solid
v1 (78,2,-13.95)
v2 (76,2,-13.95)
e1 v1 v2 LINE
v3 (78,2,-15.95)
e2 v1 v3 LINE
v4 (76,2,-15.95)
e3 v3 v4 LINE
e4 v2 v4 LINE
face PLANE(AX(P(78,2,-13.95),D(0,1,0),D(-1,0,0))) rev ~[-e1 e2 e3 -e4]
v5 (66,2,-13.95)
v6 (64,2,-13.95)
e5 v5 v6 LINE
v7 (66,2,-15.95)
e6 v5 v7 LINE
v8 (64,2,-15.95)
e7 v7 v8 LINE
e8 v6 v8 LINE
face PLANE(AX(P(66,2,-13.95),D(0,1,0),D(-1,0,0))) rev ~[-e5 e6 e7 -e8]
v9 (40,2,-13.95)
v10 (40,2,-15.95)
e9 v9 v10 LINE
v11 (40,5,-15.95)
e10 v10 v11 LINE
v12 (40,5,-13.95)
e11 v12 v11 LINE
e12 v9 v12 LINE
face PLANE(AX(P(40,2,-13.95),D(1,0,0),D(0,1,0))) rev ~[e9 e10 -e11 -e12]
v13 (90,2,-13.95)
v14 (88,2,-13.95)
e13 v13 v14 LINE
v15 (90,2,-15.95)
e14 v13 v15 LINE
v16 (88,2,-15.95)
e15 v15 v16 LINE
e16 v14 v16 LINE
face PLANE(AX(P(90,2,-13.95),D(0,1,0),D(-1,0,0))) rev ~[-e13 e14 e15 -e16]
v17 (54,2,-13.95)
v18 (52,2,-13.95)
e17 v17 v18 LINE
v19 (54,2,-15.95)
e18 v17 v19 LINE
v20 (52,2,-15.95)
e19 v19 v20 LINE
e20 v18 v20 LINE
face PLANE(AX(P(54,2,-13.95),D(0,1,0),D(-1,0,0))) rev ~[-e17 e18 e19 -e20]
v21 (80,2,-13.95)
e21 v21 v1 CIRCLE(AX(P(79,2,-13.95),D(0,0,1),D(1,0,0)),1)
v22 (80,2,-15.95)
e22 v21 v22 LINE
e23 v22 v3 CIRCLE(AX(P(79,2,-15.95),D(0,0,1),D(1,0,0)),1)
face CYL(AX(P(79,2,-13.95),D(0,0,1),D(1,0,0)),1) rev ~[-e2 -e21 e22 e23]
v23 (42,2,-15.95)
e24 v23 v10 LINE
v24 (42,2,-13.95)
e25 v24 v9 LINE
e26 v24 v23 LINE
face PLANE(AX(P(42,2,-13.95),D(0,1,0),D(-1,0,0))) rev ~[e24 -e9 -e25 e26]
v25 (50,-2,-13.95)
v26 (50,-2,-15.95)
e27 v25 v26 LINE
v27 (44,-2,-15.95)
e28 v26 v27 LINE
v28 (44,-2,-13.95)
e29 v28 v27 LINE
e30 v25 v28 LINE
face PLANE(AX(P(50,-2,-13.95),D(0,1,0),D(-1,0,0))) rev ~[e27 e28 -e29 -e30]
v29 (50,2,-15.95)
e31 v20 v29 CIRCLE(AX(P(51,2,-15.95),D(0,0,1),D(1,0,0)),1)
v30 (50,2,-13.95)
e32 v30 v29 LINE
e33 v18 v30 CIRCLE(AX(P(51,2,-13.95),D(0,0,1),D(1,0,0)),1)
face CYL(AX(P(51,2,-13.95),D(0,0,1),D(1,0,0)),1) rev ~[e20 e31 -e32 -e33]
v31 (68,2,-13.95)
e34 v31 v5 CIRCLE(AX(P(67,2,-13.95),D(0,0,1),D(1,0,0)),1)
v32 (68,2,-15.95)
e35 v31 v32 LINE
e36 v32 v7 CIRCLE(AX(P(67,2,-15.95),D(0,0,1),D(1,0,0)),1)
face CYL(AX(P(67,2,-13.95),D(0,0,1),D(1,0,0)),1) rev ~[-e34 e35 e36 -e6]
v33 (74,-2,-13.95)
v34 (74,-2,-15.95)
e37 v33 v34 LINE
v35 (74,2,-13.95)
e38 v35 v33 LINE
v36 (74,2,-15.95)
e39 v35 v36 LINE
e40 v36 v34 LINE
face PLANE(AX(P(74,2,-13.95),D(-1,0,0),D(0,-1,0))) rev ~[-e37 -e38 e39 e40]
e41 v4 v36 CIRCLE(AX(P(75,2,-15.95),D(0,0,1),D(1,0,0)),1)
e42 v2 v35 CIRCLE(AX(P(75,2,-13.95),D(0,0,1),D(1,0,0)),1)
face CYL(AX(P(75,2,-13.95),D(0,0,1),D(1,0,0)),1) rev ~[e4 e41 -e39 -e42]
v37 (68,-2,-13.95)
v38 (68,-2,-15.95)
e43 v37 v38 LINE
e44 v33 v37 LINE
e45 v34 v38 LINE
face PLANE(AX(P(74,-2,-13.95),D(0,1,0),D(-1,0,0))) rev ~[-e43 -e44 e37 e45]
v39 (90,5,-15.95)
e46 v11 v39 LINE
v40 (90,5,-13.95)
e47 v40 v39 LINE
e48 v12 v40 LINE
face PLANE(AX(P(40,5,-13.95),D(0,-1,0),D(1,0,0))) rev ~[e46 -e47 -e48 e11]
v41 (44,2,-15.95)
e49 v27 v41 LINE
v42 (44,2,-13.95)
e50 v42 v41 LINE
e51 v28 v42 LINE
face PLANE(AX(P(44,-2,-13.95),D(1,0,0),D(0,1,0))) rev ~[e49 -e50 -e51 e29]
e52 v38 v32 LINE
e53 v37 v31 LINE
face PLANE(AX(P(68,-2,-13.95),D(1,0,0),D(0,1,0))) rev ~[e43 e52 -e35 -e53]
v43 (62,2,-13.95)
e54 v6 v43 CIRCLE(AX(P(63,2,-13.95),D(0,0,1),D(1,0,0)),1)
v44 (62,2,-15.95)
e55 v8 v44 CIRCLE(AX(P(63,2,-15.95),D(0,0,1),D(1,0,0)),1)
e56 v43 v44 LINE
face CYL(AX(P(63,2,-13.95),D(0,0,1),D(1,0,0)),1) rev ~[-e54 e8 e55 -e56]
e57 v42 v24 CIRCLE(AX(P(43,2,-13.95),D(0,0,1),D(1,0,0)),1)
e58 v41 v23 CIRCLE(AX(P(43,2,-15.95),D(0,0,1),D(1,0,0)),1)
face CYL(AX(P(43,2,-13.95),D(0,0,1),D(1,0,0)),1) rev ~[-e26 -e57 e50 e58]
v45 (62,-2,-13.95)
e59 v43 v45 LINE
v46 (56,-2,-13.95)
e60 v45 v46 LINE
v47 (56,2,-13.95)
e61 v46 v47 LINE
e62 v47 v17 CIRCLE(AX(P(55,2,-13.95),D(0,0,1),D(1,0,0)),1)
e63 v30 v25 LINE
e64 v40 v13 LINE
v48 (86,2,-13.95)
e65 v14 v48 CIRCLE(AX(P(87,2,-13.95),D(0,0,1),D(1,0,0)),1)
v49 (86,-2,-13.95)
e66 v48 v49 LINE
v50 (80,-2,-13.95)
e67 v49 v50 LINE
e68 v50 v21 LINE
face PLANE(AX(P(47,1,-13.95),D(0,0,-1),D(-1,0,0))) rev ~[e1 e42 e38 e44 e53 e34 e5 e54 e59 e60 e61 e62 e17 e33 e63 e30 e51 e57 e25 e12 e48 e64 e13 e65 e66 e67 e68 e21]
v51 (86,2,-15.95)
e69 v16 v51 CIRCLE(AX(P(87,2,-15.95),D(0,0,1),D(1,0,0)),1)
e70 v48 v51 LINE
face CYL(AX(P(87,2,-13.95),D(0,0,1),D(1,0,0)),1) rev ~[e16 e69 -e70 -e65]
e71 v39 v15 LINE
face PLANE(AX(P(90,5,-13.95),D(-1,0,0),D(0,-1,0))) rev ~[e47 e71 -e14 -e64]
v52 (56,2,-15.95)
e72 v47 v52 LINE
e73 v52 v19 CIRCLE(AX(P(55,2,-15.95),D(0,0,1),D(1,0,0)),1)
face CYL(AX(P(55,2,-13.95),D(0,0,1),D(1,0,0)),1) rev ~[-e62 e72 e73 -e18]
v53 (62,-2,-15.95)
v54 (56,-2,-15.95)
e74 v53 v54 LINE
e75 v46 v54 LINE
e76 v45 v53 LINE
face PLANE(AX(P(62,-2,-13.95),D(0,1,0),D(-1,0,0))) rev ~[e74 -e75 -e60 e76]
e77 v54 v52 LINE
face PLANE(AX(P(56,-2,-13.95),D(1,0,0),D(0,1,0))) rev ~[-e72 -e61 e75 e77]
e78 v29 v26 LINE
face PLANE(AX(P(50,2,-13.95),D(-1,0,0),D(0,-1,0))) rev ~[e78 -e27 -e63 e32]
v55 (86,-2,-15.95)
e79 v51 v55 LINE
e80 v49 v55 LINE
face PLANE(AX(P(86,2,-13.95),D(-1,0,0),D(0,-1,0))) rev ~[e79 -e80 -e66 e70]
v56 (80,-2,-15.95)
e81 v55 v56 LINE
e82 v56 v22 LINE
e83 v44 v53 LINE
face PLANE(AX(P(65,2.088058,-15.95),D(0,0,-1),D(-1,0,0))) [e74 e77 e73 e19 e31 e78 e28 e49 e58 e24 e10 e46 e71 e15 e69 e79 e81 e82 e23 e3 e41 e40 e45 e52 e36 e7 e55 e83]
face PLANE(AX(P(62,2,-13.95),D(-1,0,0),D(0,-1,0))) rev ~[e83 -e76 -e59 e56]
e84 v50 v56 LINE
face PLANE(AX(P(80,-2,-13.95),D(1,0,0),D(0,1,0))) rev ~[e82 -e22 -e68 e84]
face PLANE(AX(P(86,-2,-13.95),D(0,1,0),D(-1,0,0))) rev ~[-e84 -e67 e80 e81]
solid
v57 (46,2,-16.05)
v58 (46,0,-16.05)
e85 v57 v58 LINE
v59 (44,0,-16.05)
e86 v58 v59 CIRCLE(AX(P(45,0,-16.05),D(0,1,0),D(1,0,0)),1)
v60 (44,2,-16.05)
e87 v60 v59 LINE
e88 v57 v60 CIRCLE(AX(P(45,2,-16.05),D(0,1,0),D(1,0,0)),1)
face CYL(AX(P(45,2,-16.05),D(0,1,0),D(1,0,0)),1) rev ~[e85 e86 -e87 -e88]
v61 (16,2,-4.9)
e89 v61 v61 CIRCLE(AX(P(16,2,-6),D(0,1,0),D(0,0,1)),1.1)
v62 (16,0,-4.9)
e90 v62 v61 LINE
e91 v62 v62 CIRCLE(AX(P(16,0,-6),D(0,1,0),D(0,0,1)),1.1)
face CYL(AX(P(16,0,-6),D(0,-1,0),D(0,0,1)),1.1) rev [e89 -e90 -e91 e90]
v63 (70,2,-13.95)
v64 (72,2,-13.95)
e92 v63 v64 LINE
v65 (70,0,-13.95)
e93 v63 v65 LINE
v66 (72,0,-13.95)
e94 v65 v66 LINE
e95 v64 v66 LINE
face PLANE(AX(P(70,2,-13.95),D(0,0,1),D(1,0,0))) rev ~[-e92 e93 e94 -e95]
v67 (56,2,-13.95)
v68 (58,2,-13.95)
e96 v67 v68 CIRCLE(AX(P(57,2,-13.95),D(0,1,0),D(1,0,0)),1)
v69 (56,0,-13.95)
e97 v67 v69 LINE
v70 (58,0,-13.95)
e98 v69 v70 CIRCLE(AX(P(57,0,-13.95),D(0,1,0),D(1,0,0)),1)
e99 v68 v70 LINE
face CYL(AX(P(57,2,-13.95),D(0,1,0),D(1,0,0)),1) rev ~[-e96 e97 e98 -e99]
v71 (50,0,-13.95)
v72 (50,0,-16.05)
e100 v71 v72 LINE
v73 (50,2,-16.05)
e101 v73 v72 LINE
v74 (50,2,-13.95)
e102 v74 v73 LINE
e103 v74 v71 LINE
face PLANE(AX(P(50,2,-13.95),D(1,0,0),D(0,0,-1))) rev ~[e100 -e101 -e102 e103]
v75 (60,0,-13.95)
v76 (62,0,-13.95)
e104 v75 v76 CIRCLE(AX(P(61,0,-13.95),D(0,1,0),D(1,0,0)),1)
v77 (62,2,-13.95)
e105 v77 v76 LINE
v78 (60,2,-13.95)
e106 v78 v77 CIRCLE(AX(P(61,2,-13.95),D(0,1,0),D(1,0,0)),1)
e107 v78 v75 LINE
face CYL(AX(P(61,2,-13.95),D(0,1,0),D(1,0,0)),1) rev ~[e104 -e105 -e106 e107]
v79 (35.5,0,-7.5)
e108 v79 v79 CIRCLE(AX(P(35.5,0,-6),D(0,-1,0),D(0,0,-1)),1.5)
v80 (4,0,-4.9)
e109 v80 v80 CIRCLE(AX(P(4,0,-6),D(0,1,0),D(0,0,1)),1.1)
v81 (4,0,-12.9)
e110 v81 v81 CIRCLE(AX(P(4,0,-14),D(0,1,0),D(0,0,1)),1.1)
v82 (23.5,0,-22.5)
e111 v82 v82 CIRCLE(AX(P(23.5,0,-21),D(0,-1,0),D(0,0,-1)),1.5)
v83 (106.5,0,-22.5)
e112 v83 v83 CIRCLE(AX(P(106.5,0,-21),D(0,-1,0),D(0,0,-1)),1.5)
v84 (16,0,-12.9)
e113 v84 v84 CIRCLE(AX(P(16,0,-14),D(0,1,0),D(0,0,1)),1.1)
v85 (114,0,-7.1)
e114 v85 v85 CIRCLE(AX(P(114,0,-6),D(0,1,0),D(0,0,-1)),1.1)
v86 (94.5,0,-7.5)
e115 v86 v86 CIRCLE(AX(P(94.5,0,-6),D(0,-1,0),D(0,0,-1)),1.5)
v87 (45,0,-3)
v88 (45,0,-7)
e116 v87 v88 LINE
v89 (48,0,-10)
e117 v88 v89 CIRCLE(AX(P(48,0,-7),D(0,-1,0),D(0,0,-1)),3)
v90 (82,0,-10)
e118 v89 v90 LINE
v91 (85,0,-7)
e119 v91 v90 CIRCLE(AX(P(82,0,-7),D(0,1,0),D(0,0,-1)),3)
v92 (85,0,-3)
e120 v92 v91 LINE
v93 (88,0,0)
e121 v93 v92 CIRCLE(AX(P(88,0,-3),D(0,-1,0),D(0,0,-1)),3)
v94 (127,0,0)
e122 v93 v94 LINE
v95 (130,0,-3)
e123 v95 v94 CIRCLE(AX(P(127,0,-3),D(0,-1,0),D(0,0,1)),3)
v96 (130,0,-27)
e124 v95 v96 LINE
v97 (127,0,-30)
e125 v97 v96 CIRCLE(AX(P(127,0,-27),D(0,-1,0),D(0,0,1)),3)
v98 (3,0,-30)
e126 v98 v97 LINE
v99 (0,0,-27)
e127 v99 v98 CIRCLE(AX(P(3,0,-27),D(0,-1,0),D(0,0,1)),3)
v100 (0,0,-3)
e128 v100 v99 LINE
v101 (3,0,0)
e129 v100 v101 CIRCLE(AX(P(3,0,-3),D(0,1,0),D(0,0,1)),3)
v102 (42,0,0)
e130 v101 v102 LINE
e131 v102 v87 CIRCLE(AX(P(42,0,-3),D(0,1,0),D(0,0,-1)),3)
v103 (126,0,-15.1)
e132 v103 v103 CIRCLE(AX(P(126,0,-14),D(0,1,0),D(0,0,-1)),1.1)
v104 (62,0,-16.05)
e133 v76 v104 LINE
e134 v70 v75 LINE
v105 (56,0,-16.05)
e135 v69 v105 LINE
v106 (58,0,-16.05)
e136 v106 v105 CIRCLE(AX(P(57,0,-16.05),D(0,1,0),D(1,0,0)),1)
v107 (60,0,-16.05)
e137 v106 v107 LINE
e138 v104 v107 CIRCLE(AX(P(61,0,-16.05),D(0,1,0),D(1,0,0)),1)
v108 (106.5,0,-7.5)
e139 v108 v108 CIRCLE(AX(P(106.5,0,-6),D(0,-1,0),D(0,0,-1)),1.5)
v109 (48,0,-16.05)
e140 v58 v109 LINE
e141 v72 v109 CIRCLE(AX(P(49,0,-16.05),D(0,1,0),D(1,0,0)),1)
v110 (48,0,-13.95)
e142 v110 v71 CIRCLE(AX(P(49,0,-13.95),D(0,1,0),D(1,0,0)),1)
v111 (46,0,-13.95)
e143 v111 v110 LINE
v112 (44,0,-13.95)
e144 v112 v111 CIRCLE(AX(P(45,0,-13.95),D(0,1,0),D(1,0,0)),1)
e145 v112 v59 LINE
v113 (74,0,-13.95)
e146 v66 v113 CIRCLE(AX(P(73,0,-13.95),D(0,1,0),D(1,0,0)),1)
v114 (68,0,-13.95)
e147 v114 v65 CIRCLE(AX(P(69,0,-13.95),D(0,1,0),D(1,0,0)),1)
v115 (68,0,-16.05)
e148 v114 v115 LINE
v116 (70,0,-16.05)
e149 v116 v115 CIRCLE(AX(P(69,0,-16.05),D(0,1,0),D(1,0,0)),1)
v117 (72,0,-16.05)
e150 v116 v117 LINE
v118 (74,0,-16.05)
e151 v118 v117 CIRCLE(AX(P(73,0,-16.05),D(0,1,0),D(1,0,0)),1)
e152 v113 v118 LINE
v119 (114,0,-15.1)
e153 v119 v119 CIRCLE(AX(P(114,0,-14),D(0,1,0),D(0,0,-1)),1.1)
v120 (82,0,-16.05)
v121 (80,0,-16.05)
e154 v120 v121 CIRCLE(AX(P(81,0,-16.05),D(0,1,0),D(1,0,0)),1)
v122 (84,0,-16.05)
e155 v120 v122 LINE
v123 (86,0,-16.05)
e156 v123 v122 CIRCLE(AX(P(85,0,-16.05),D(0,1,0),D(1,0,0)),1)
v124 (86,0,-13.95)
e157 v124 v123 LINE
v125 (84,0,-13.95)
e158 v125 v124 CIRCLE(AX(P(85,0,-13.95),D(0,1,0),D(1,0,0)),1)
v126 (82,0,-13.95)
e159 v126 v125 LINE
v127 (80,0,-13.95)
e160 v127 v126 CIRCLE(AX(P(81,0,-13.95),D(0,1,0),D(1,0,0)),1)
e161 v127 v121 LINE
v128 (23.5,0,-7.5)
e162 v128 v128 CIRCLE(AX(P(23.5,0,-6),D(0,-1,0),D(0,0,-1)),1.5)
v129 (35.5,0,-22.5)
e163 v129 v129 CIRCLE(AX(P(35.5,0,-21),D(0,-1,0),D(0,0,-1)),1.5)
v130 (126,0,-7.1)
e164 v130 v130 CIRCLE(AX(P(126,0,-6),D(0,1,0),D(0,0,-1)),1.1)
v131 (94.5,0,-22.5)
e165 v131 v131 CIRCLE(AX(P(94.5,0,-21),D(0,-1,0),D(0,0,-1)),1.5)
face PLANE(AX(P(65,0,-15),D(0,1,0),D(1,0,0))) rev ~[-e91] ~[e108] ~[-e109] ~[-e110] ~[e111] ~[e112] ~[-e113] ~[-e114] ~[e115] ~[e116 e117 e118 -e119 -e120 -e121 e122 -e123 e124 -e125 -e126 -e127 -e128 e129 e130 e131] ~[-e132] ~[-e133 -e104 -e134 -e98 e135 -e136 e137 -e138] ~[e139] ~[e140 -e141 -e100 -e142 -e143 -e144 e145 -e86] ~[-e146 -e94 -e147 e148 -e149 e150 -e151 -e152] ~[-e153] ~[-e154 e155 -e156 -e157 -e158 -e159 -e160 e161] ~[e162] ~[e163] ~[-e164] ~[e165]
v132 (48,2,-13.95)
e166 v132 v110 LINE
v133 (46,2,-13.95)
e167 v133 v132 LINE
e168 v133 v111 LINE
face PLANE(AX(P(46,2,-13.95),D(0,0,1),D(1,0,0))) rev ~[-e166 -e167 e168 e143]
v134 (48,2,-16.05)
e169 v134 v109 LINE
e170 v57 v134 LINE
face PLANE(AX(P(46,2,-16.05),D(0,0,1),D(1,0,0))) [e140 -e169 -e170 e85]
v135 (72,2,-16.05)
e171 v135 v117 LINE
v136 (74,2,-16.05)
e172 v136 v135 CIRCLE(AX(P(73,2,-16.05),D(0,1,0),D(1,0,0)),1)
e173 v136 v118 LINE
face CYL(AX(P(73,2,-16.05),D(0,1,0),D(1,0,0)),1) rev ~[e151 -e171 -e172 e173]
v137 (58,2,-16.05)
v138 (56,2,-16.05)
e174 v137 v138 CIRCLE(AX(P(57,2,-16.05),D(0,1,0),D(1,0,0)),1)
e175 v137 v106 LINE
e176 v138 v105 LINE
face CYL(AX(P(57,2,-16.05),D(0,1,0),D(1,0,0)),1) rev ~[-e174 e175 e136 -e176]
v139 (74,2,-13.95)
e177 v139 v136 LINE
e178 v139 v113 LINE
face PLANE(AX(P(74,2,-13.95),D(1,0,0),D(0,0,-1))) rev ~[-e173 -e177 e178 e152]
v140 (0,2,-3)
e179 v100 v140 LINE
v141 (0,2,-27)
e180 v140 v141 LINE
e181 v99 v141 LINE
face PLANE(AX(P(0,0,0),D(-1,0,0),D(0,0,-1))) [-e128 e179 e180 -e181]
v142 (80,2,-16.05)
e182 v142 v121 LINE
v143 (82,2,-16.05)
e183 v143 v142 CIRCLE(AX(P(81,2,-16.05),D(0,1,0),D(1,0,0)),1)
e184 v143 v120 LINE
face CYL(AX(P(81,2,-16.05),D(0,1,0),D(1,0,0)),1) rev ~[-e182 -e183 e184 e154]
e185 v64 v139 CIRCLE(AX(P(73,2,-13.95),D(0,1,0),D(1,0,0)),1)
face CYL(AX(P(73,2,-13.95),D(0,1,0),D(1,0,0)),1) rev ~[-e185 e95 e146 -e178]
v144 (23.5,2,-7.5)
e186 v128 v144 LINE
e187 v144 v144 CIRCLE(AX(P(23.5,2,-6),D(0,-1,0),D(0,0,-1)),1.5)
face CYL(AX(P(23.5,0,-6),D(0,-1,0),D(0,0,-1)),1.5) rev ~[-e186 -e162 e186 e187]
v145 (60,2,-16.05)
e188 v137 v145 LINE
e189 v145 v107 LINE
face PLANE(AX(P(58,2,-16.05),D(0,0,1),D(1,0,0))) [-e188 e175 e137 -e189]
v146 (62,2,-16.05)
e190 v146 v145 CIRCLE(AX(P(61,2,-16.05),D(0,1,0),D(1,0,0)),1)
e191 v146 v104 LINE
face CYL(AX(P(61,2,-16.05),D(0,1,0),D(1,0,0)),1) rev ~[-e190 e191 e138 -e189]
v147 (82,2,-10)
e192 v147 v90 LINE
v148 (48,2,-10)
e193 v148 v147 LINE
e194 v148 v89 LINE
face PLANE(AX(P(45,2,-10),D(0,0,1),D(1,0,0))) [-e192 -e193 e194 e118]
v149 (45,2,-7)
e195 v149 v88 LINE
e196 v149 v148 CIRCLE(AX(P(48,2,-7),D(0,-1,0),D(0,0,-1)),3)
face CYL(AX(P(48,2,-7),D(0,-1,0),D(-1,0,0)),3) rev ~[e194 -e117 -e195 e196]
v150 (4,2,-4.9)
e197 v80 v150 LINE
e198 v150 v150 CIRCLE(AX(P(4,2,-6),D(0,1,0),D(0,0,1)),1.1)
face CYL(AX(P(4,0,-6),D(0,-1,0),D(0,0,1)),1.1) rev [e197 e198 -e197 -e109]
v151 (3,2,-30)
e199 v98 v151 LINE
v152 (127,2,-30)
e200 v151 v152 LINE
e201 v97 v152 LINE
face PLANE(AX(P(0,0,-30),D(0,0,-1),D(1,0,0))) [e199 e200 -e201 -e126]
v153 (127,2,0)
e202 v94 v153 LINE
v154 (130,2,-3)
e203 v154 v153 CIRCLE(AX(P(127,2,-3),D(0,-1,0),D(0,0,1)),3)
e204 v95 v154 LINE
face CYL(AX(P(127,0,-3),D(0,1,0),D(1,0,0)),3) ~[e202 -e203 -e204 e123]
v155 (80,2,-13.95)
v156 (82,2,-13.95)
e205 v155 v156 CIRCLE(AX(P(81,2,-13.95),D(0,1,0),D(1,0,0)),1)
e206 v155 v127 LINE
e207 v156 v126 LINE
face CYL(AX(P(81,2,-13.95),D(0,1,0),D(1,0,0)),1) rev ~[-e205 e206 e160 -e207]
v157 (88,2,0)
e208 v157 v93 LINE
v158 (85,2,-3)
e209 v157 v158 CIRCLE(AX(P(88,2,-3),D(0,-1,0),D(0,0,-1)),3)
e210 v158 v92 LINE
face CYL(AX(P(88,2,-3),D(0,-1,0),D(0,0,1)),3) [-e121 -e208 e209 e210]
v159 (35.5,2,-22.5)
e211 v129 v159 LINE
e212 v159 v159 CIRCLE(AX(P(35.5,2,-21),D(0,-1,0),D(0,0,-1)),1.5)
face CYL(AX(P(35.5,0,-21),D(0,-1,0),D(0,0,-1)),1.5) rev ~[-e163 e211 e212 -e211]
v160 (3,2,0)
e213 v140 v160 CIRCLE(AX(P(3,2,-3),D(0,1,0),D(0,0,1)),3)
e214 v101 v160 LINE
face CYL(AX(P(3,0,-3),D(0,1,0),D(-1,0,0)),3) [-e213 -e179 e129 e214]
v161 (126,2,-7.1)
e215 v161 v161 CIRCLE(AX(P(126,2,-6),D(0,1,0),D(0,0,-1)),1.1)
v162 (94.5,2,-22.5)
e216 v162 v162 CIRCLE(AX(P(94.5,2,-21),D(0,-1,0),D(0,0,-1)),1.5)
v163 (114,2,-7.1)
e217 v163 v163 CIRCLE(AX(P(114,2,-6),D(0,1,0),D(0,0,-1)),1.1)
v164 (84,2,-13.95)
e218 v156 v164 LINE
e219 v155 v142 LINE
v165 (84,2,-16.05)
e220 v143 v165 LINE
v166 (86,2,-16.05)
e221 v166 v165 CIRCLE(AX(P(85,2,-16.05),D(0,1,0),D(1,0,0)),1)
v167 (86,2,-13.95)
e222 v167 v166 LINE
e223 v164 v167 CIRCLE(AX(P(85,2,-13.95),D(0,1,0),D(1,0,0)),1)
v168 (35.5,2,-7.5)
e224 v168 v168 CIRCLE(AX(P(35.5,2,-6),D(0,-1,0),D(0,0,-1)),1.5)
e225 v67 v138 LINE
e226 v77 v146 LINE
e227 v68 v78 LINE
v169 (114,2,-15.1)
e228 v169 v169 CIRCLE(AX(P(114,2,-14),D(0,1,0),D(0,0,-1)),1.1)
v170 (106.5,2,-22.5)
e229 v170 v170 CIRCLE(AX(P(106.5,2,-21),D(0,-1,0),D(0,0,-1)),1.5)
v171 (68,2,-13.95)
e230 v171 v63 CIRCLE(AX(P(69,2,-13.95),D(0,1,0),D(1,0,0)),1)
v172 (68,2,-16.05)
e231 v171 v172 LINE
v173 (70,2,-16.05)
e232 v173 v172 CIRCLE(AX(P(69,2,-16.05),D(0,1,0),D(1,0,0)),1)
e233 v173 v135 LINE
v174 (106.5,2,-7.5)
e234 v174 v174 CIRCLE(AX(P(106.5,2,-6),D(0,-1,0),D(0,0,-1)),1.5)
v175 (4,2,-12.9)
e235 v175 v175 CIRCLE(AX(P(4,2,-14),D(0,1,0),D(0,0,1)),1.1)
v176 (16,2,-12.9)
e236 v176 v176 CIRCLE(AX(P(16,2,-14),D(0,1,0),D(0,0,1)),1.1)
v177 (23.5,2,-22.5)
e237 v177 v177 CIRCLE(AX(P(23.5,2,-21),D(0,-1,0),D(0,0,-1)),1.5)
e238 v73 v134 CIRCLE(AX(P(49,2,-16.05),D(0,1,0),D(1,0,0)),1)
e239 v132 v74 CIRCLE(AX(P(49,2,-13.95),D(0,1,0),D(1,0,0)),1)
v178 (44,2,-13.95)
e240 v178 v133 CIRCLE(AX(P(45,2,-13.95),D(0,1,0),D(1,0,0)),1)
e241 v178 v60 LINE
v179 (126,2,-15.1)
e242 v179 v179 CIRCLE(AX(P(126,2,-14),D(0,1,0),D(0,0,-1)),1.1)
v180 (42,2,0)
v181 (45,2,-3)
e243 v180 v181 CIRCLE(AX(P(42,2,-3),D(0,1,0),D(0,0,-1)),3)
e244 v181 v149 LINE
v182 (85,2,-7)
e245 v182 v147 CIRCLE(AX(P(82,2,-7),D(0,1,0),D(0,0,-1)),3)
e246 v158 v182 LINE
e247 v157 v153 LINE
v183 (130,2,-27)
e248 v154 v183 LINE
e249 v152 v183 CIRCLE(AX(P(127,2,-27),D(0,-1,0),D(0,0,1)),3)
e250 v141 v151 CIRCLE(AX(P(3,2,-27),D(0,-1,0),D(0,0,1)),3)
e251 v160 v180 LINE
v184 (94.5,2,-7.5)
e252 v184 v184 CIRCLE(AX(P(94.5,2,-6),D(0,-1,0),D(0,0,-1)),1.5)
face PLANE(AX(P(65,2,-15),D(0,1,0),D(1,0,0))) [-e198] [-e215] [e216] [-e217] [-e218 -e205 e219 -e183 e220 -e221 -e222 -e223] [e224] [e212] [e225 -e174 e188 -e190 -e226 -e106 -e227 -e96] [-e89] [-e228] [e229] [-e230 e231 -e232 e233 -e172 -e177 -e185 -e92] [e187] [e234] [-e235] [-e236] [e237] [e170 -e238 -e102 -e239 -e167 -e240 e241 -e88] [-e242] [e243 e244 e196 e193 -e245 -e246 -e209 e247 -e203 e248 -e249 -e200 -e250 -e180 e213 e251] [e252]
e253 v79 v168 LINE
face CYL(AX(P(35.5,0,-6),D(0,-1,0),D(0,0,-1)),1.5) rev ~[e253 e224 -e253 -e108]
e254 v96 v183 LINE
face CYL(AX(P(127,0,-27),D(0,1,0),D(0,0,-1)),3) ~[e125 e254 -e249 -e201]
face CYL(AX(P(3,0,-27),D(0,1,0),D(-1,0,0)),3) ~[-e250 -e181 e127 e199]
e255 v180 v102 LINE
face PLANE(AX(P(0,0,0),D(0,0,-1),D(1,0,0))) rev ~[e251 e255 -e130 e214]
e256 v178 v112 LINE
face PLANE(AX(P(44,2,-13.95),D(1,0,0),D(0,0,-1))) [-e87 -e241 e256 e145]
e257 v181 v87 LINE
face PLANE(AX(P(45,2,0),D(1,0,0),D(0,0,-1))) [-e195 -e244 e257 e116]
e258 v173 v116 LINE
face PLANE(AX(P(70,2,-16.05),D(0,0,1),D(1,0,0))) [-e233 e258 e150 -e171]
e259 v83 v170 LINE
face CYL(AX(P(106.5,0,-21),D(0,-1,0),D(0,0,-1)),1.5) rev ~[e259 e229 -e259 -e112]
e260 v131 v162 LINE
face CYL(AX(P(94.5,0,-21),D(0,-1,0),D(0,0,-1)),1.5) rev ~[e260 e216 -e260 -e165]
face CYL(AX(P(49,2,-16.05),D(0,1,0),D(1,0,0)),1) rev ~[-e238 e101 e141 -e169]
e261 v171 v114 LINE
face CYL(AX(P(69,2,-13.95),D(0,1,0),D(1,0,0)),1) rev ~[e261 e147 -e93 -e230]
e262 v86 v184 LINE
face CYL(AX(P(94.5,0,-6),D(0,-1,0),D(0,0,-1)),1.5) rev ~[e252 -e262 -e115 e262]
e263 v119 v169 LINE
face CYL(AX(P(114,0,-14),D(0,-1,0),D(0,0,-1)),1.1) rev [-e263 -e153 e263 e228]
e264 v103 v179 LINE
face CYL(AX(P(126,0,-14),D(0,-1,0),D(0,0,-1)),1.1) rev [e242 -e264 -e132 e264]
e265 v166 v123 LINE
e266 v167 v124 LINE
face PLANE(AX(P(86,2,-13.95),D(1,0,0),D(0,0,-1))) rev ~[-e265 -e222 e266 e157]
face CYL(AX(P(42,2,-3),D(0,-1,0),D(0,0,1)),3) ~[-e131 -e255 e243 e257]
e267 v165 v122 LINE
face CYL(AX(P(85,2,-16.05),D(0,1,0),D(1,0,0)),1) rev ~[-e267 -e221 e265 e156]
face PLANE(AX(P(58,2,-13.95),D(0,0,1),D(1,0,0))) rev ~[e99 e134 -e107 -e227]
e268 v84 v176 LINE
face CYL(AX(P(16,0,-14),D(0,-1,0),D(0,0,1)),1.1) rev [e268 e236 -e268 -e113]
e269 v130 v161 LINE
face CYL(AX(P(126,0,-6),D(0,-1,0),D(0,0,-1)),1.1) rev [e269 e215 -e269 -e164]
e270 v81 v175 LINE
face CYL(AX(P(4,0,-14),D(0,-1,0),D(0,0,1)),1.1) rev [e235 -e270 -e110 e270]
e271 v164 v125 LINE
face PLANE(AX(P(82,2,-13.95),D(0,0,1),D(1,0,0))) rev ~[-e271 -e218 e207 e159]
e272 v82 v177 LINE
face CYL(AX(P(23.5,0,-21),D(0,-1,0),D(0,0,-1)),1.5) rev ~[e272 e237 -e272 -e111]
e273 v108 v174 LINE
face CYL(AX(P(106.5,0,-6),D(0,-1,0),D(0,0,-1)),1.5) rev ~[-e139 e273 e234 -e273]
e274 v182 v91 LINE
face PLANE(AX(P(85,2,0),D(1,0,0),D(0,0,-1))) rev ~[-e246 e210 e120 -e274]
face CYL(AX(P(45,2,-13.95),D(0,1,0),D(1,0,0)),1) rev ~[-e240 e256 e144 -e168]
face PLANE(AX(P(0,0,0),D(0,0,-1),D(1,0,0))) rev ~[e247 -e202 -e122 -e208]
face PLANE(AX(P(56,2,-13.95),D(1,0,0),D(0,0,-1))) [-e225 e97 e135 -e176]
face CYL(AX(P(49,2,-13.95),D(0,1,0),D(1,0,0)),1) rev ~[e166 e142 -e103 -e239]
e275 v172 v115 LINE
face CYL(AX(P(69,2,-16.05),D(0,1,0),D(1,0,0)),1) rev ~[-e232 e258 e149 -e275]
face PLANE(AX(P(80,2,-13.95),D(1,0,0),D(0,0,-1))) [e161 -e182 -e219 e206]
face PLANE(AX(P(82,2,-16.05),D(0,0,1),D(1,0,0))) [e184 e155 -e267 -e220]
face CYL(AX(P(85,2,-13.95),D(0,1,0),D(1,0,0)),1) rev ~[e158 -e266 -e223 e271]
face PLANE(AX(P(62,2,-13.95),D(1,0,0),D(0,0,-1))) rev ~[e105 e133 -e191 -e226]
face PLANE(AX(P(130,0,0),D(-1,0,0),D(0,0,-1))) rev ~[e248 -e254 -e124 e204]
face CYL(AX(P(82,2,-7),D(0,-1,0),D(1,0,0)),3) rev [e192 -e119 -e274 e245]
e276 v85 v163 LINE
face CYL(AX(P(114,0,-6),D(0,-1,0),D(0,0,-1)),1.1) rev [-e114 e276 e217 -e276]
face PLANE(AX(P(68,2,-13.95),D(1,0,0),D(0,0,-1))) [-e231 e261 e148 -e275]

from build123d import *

# Parameters (mm, degrees)
SKETCH_1_W          = 130
SKETCH_1_H          = 30
SKETCH_1_R          = 1.1
EXTRUDE_1_DEPTH     = 2
SKETCH_2_W          = 40
SKETCH_2_H          = 10
CUT_EXTRUDE_1_DEPTH = 134.431630433
FILLET_1_R          = 3
CUT_EXTRUDE_2_DEPTH = 134.431630433
EXTRUDE_4_DEPTH     = 2
SKETCH_8_R          = 1.5
CUT_EXTRUDE_3_DEPTH = 134.510299228


with BuildPart() as part:
    # 草图1 → 凸台-拉伸1 (new body)
    with BuildSketch(Plane(origin=(0, 0, 0), x_dir=(1, 0, 0), z_dir=(0, 1, 0))):
        with Locations((65, 15)):
            Rectangle(SKETCH_1_W, SKETCH_1_H)
        with Locations((4, 14)):
            Circle(SKETCH_1_R, mode=Mode.SUBTRACT)
        with Locations((4, 6)):
            Circle(SKETCH_1_R, mode=Mode.SUBTRACT)
        with Locations((16, 14)):
            Circle(SKETCH_1_R, mode=Mode.SUBTRACT)
        with Locations((16, 6)):
            Circle(SKETCH_1_R, mode=Mode.SUBTRACT)
        with Locations((114, 6)):
            Circle(SKETCH_1_R, mode=Mode.SUBTRACT)
        with Locations((114, 14)):
            Circle(SKETCH_1_R, mode=Mode.SUBTRACT)
        with Locations((126, 14)):
            Circle(SKETCH_1_R, mode=Mode.SUBTRACT)
        with Locations((126, 6)):
            Circle(SKETCH_1_R, mode=Mode.SUBTRACT)
    extrude(amount=EXTRUDE_1_DEPTH)

    # 草图2 → 切除-拉伸1 (cut, through all)
    with BuildSketch(Plane(origin=(0, 2, 0), x_dir=(1, 0, 0), z_dir=(0, 1, 0))):
        with Locations((65, 5)):
            Rectangle(SKETCH_2_W, SKETCH_2_H)
    extrude(amount=-CUT_EXTRUDE_1_DEPTH, mode=Mode.SUBTRACT)

    # 圆角1
    fillet_1_edges = [part.edges().sort_by_distance(p)[0] for p in [
        (85, 1, 0),
        (130, 1, 0),
        (130, 1, -30),
        (85, 1, -10),
        (45, 1, -10),
        (45, 1, 0),
        (0, 1, 0),
        (0, 1, -30),
    ]]
    fillet(fillet_1_edges, radius=FILLET_1_R)

    # 草图6 → 切除-拉伸2 (cut, through all)
    with BuildSketch(Plane(origin=(0, 2, 0), x_dir=(1, 0, 0), z_dir=(0, 1, 0))):
        with BuildLine():
            Line((60, 16.05), (58, 16.05))
            ThreePointArc((58, 16.05), (57, 17.05), (56, 16.05))
            Line((56, 16.05), (56, 13.95))
            ThreePointArc((56, 13.95), (57, 12.95), (58, 13.95))
            Line((58, 13.95), (60, 13.95))
            ThreePointArc((60, 13.95), (61, 12.95), (62, 13.95))
            Line((62, 13.95), (62, 16.05))
            ThreePointArc((62, 16.05), (61, 17.05), (60, 16.05))
        make_face()
        with BuildLine():
            ThreePointArc((46, 16.05), (45, 17.05), (44, 16.05))
            Line((44, 16.05), (44, 13.95))
            ThreePointArc((44, 13.95), (45, 12.95), (46, 13.95))
            Line((46, 13.95), (48, 13.95))
            ThreePointArc((48, 13.95), (49, 12.95), (50, 13.95))
            Line((50, 13.95), (50, 16.05))
            ThreePointArc((50, 16.05), (49, 17.05), (48, 16.05))
            Line((48, 16.05), (46, 16.05))
        make_face()
        with BuildLine():
            Line((72, 16.05), (70, 16.05))
            ThreePointArc((70, 16.05), (69, 17.05), (68, 16.05))
            Line((68, 16.05), (68, 13.95))
            ThreePointArc((68, 13.95), (69, 12.95), (70, 13.95))
            Line((70, 13.95), (72, 13.95))
            ThreePointArc((72, 13.95), (73, 12.95), (74, 13.95))
            Line((74, 13.95), (74, 16.05))
            ThreePointArc((74, 16.05), (73, 17.05), (72, 16.05))
        make_face()
        with BuildLine():
            Line((84, 16.05), (82, 16.05))
            ThreePointArc((82, 16.05), (81, 17.05), (80, 16.05))
            Line((80, 16.05), (80, 13.95))
            ThreePointArc((80, 13.95), (81, 12.95), (82, 13.95))
            Line((82, 13.95), (84, 13.95))
            ThreePointArc((84, 13.95), (85, 12.95), (86, 13.95))
            Line((86, 13.95), (86, 16.05))
            ThreePointArc((86, 16.05), (85, 17.05), (84, 16.05))
        make_face()
    extrude(amount=-CUT_EXTRUDE_2_DEPTH, mode=Mode.SUBTRACT)

    # 草图8 → 切除-拉伸3 (cut, through all)
    with BuildSketch(Plane.XZ):
        with Locations((23.5, -6)):
            Circle(SKETCH_8_R)
        with Locations((23.5, -21)):
            Circle(SKETCH_8_R)
        with Locations((35.5, -21)):
            Circle(SKETCH_8_R)
        with Locations((35.5, -6)):
            Circle(SKETCH_8_R)
        with Locations((94.5, -21)):
            Circle(SKETCH_8_R)
        with Locations((94.5, -6)):
            Circle(SKETCH_8_R)
        with Locations((106.5, -6)):
            Circle(SKETCH_8_R)
        with Locations((106.5, -21)):
            Circle(SKETCH_8_R)
    extrude(amount=-CUT_EXTRUDE_3_DEPTH, mode=Mode.SUBTRACT)


with BuildPart() as body_2:
    # 草图7 → 凸台-拉伸4 (new body)
    with BuildSketch(Plane(origin=(0, 0, -13.95), x_dir=(-1, 0, 0), z_dir=(0, 0, -1))):
        with BuildLine():
            Line((-44, -2), (-44, 2))
            ThreePointArc((-44, 2), (-43, 3), (-42, 2))
            Line((-42, 2), (-40, 2))
            Line((-40, 2), (-40, 5))
            Line((-40, 5), (-90, 5))
            Line((-90, 5), (-90, 2))
            Line((-90, 2), (-88, 2))
            ThreePointArc((-88, 2), (-87, 3), (-86, 2))
            Line((-86, 2), (-86, -2))
            Line((-86, -2), (-80, -2))
            Line((-80, -2), (-80, 2))
            ThreePointArc((-80, 2), (-79, 3), (-78, 2))
            Line((-78, 2), (-76, 2))
            ThreePointArc((-76, 2), (-75, 3), (-74, 2))
            Line((-74, 2), (-74, -2))
            Line((-74, -2), (-68, -2))
            Line((-68, -2), (-68, 2))
            ThreePointArc((-68, 2), (-67, 3), (-66, 2))
            Line((-66, 2), (-64, 2))
            ThreePointArc((-64, 2), (-63, 3), (-62, 2))
            Line((-62, 2), (-62, -2))
            Line((-62, -2), (-56, -2))
            Line((-56, -2), (-56, 2))
            ThreePointArc((-56, 2), (-55, 3), (-54, 2))
            Line((-54, 2), (-52, 2))
            ThreePointArc((-52, 2), (-51, 3), (-50, 2))
            Line((-50, 2), (-50, -2))
            Line((-50, -2), (-44, -2))
        make_face()
    extrude(amount=EXTRUDE_4_DEPTH)


solid = Compound([part.part, body_2.part])
